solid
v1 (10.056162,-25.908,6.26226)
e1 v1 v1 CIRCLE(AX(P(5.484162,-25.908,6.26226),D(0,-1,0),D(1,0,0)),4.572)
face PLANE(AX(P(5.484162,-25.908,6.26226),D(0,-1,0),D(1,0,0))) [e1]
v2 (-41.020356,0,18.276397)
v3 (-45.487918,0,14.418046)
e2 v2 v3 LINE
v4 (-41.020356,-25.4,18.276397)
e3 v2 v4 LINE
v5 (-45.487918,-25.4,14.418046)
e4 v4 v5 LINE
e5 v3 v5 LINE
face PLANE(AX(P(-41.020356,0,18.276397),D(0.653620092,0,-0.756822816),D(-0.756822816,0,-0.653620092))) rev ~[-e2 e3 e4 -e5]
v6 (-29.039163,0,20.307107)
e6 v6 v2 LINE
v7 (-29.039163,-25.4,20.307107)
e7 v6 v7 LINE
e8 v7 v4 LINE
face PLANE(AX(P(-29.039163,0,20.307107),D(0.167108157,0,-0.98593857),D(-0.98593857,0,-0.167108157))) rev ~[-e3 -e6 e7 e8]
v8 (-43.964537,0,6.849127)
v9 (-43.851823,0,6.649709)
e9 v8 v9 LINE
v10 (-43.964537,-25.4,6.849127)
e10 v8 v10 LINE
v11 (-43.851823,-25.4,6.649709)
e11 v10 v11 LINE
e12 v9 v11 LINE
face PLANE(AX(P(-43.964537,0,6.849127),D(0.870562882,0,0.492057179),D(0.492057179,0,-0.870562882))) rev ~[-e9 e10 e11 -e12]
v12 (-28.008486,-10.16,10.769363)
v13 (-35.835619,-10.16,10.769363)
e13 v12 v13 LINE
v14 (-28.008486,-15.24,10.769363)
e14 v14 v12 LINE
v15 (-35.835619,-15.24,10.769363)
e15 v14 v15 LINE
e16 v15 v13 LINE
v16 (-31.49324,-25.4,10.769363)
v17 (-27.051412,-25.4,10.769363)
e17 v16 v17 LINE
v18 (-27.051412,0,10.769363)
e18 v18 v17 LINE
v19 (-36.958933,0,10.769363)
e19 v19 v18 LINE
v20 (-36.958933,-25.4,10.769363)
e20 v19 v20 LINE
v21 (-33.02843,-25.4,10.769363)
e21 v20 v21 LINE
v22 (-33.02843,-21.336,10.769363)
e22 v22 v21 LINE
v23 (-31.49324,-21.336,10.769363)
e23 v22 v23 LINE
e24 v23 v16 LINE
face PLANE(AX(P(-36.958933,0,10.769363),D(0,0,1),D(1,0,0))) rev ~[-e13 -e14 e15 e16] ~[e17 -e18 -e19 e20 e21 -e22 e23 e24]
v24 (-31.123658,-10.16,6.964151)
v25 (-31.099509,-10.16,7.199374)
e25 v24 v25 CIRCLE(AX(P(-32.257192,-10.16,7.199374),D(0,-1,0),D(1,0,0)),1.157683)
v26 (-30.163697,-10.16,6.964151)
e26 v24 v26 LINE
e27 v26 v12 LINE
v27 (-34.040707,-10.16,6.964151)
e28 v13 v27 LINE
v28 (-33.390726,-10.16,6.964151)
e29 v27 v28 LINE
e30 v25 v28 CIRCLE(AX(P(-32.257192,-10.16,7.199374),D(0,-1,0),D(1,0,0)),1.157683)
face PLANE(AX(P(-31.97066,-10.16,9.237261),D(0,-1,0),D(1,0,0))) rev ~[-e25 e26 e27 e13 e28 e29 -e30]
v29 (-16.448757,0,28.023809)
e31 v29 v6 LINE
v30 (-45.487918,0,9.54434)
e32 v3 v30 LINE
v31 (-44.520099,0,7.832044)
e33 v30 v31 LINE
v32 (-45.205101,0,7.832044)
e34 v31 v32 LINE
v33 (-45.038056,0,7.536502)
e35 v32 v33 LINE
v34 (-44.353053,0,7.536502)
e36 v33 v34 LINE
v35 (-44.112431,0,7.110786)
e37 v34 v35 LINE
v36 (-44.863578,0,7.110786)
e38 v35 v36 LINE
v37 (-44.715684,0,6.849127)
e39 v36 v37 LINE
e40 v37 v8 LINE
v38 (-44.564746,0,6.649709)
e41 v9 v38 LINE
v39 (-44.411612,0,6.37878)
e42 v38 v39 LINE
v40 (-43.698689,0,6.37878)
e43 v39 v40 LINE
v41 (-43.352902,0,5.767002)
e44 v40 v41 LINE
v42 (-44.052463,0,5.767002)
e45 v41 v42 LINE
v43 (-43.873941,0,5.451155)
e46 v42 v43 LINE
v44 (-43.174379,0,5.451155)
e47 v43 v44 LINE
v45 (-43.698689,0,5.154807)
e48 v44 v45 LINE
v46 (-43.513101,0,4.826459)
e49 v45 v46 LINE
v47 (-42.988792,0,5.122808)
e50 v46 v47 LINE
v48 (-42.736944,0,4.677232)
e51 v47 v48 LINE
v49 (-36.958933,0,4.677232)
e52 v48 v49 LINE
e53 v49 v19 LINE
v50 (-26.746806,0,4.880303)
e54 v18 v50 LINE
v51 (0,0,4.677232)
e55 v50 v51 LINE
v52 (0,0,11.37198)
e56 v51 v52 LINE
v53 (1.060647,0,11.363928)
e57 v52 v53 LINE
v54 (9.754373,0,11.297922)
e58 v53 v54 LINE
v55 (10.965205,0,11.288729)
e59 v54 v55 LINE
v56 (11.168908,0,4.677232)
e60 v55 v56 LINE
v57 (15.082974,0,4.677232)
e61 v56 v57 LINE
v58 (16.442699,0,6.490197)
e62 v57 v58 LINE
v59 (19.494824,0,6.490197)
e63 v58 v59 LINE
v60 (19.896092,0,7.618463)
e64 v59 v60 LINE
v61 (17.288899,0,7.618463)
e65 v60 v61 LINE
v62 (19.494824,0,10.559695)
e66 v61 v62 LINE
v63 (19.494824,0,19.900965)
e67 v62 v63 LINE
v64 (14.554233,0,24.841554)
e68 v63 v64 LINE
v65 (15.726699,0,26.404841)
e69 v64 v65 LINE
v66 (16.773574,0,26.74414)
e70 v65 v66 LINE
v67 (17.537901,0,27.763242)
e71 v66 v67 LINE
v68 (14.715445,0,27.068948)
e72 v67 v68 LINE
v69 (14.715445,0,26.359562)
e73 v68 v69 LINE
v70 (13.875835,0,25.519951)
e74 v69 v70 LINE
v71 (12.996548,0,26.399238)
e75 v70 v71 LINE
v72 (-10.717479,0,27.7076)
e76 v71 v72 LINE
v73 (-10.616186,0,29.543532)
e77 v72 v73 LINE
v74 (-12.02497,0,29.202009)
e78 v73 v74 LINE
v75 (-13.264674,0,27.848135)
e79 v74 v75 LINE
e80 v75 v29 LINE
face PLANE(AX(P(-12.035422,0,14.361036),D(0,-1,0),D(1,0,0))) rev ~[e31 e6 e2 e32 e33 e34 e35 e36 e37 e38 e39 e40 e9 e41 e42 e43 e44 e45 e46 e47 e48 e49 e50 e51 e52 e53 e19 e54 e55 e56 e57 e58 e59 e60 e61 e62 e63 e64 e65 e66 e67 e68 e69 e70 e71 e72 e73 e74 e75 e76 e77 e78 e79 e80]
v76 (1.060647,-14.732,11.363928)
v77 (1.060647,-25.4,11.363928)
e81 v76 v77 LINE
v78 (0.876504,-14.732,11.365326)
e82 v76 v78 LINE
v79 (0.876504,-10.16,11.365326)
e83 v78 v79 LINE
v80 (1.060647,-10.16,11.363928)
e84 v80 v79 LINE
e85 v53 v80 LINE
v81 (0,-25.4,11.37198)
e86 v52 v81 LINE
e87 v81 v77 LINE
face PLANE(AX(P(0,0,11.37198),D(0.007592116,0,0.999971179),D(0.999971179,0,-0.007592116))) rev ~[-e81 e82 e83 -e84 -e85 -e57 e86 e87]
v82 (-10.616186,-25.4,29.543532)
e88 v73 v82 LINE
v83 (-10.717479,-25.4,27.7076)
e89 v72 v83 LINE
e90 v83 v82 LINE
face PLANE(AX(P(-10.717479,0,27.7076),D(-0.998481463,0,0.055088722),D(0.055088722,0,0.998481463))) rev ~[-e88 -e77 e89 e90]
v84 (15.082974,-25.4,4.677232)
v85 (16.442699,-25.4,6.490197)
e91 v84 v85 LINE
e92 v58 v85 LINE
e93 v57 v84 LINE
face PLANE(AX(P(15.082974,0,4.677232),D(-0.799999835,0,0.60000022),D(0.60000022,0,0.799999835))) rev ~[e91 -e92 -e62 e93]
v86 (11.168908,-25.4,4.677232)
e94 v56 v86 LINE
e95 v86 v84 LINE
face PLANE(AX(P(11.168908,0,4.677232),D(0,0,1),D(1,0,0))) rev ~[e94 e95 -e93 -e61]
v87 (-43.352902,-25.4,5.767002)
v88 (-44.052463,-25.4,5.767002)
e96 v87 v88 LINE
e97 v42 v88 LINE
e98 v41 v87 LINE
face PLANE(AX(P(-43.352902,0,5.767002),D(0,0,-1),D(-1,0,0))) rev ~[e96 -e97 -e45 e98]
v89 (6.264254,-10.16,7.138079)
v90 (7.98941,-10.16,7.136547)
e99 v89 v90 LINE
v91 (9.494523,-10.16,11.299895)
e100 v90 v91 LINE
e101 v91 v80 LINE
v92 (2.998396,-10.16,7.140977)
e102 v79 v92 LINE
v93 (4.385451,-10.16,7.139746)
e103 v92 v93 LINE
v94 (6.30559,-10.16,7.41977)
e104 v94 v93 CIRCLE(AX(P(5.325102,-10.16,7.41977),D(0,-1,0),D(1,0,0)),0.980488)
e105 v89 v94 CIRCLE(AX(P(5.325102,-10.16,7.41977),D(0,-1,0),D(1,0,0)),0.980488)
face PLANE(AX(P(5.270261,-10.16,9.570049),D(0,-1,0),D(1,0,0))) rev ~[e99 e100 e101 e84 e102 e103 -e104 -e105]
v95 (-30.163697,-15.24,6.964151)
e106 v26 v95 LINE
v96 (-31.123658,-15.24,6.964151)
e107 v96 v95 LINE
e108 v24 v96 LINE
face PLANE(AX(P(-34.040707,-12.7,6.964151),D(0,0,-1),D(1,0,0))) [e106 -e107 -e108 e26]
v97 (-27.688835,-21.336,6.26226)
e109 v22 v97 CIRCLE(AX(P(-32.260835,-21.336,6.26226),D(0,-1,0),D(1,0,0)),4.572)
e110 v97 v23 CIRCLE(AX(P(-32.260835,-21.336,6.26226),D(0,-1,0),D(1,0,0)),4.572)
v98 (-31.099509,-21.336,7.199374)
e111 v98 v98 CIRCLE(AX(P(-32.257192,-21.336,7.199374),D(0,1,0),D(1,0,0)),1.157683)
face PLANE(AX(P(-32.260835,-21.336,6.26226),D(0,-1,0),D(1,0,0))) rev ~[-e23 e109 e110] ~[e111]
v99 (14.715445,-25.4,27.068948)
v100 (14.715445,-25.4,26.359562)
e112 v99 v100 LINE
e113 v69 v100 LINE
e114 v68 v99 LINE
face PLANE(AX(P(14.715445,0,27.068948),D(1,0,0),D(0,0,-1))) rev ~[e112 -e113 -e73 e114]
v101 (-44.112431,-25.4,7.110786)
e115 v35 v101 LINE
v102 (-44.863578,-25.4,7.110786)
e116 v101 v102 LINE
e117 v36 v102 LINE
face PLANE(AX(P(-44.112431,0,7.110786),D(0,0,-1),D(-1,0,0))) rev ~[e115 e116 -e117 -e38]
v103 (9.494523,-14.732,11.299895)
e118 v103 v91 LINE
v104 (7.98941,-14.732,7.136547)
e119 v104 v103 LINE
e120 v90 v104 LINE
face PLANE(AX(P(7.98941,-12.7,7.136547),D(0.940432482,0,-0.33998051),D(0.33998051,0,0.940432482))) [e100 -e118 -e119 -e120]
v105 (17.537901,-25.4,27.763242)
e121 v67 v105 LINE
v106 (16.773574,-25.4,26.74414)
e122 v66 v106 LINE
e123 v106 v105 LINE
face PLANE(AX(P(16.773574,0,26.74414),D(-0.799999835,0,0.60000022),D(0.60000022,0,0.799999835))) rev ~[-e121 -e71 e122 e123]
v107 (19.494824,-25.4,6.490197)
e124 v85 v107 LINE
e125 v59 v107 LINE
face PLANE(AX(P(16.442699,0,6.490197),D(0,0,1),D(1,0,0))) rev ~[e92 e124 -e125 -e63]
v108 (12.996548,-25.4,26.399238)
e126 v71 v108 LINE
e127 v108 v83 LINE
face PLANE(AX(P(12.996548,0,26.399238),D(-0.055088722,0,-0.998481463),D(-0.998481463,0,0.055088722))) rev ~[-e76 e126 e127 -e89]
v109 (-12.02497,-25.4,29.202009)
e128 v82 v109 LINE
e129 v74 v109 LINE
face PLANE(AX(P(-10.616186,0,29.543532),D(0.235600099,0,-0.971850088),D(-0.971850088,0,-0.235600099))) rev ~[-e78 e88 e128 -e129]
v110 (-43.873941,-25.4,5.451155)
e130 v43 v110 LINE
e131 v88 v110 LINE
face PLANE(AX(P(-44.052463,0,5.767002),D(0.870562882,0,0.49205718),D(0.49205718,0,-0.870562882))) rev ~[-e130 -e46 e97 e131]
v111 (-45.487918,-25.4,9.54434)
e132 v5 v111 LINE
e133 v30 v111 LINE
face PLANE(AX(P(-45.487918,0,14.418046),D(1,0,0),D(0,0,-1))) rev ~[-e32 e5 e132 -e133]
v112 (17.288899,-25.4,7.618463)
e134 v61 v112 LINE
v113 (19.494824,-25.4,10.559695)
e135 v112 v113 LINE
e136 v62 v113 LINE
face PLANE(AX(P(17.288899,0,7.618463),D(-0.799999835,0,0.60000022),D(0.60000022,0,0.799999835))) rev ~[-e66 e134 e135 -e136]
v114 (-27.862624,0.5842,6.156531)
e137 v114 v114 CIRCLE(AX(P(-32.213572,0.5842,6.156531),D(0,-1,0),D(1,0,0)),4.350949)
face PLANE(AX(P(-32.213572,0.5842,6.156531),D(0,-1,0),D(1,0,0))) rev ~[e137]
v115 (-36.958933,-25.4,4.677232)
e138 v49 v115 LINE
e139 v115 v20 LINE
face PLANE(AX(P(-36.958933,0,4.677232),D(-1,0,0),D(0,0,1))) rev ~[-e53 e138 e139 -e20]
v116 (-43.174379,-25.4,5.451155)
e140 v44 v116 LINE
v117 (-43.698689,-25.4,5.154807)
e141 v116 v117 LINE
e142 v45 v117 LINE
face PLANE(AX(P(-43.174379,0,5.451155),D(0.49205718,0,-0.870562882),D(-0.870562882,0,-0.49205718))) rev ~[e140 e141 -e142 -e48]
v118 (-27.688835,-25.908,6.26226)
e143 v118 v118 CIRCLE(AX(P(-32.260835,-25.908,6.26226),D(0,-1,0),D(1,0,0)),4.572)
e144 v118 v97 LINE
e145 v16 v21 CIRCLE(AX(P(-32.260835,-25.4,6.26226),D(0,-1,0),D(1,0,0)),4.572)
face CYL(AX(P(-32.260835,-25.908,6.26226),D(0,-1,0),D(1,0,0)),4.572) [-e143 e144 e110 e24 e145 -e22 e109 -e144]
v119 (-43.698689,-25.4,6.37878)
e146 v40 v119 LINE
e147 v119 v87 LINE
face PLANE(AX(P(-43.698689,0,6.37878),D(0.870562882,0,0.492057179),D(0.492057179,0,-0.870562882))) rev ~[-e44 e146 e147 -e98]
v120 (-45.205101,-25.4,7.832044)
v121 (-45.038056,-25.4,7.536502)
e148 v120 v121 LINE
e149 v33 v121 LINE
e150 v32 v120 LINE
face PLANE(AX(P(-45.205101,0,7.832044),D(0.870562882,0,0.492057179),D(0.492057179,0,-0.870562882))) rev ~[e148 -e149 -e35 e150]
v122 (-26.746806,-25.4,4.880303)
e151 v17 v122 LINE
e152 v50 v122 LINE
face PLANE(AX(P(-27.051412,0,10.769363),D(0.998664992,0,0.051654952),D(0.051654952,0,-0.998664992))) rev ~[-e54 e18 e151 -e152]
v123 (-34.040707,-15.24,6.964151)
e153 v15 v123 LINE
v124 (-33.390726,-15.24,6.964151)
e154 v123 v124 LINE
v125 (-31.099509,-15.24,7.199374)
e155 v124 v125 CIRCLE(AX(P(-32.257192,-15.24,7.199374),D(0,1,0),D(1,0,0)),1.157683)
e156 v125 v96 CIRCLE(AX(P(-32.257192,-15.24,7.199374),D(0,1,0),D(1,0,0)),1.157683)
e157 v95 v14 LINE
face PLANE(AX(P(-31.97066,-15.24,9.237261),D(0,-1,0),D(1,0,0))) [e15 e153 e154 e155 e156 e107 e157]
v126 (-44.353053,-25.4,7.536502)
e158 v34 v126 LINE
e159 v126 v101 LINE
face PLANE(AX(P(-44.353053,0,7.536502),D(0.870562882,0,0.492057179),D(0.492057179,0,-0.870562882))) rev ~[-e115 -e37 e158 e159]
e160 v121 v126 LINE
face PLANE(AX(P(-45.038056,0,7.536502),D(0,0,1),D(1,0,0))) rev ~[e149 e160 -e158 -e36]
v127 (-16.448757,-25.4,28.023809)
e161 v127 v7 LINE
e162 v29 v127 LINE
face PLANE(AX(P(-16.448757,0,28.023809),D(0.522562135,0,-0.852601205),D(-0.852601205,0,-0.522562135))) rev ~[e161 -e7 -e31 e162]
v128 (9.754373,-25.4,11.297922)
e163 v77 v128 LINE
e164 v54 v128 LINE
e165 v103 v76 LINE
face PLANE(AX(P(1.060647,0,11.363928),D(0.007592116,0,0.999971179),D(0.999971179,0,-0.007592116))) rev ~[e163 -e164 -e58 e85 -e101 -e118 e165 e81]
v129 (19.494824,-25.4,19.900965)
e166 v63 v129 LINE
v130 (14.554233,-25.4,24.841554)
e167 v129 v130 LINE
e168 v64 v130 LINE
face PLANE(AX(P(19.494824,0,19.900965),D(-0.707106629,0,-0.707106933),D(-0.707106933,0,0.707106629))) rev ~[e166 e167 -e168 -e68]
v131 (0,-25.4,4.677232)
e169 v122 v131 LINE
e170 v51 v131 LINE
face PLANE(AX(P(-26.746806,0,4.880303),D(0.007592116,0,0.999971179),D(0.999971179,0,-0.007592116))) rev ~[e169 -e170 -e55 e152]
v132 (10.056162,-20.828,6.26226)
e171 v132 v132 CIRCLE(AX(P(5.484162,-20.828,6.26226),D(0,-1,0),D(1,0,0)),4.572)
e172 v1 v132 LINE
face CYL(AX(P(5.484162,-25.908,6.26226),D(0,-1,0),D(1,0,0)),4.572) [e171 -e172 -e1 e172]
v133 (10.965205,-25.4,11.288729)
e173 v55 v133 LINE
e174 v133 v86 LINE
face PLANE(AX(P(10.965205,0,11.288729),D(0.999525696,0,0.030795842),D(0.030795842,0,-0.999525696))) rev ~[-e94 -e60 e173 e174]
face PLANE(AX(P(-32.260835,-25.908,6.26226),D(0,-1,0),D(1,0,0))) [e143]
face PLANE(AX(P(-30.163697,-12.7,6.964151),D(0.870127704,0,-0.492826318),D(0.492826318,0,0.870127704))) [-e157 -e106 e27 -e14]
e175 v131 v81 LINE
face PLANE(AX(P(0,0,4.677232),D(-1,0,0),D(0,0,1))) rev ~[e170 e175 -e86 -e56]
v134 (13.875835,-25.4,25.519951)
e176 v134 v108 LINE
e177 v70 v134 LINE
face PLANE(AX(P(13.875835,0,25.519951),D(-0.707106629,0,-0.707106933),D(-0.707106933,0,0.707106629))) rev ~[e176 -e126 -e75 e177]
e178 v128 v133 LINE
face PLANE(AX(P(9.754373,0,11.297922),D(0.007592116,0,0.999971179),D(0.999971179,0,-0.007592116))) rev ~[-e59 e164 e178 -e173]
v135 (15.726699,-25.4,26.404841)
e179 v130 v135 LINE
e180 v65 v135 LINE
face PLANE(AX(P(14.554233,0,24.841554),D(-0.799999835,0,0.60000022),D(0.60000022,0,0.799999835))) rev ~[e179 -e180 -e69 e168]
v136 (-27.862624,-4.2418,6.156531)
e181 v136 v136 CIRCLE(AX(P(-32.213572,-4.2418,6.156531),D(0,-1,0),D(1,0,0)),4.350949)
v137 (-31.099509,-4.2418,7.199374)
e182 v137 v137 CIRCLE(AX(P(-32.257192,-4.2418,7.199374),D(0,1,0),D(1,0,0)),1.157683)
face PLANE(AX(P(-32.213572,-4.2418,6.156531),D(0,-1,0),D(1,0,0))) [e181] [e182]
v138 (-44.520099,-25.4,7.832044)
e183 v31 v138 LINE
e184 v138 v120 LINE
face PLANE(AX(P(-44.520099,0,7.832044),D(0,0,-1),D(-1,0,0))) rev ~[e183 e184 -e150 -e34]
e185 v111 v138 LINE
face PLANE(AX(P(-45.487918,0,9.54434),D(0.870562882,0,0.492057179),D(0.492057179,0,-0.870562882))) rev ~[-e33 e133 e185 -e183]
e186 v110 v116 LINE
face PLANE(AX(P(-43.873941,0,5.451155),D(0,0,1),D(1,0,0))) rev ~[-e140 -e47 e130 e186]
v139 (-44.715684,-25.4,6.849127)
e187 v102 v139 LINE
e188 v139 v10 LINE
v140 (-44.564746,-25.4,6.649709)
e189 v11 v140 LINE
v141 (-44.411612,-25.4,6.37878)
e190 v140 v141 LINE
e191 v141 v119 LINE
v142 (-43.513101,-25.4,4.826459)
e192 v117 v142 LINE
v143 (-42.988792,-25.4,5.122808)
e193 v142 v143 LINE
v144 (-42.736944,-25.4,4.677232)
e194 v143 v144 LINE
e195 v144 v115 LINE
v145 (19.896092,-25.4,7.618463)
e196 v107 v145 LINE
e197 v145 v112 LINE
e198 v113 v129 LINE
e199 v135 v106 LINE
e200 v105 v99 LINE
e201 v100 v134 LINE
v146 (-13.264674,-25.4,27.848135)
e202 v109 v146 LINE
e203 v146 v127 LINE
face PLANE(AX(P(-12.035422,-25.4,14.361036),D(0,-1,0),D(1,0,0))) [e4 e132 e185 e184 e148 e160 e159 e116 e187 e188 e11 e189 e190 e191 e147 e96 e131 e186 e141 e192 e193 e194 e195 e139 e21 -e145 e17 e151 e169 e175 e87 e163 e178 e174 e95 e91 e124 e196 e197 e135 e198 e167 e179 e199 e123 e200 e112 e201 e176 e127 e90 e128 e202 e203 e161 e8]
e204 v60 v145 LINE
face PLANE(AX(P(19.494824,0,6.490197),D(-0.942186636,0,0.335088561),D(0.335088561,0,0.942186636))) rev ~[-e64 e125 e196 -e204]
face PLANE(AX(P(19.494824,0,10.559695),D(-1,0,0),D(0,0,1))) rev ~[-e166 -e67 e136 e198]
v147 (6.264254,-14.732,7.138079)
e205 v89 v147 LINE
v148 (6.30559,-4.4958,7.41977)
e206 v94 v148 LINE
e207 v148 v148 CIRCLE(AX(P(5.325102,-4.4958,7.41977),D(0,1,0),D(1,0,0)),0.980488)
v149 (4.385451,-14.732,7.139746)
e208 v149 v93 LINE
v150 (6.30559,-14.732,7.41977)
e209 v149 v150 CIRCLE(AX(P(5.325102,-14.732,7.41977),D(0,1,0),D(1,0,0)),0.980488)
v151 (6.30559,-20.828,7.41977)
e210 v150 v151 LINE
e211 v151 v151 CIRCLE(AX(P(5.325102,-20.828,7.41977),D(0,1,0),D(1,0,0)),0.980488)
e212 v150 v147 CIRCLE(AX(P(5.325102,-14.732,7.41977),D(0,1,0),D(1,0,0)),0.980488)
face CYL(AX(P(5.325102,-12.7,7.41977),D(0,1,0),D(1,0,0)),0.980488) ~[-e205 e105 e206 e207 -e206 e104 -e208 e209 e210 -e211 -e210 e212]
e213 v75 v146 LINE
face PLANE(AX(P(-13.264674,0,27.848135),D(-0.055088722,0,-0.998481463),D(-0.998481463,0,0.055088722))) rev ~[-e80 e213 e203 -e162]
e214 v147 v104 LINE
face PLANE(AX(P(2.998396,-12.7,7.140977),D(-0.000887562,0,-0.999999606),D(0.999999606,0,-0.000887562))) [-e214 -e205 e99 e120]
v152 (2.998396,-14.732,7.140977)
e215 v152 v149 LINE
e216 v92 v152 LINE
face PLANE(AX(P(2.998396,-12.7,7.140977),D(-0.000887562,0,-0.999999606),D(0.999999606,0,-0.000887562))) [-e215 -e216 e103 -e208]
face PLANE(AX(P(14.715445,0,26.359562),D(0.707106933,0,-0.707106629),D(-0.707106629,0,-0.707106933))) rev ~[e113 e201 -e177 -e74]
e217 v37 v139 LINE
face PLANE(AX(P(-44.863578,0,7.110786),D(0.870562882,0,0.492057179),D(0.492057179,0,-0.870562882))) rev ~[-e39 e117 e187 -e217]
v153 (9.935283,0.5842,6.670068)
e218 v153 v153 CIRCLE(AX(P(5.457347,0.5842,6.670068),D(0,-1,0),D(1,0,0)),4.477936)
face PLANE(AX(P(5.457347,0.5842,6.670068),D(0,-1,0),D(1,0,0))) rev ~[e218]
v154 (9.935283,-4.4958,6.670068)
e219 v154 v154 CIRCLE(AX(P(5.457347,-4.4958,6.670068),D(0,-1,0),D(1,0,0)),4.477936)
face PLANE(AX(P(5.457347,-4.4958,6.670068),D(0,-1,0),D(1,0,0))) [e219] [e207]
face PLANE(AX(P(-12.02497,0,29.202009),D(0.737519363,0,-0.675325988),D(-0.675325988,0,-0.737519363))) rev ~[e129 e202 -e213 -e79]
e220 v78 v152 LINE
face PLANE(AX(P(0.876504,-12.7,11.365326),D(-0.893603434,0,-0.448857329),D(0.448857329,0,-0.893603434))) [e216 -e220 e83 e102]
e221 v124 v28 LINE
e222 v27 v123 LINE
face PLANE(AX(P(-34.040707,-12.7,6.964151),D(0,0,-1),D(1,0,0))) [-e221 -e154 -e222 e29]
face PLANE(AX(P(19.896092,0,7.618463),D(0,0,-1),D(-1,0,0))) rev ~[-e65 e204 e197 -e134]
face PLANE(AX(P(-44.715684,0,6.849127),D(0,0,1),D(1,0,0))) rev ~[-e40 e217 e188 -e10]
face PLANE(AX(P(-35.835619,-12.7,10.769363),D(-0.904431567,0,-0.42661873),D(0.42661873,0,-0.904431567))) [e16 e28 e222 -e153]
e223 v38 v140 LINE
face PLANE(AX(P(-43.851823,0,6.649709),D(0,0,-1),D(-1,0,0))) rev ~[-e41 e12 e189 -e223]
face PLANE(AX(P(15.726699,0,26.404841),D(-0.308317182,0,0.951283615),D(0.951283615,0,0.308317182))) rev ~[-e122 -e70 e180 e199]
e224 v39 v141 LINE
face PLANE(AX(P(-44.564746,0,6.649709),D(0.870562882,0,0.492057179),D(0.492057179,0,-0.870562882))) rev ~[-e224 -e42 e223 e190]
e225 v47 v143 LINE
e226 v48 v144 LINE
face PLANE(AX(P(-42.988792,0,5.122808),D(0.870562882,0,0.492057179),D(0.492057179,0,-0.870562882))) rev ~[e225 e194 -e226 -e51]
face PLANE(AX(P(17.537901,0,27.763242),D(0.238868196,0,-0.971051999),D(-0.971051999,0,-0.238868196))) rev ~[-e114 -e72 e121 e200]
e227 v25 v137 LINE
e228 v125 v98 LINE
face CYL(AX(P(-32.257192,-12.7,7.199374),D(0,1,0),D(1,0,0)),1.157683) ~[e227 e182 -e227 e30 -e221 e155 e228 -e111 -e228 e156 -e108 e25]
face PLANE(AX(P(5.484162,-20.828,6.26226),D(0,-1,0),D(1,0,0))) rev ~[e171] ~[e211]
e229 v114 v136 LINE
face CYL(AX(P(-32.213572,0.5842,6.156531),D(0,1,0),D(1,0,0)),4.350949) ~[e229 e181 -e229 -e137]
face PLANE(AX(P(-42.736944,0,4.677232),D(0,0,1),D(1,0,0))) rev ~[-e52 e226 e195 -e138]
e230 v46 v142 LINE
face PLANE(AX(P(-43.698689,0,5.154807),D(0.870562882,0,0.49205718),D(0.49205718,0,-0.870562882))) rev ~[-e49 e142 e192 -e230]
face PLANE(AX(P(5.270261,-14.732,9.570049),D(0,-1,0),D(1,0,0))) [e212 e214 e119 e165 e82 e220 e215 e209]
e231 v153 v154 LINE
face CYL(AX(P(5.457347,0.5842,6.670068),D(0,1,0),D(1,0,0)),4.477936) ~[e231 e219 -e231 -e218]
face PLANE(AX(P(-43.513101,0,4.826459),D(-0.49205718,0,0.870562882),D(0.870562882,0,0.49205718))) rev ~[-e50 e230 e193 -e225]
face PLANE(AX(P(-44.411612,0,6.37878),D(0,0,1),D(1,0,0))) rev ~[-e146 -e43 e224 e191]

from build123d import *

# Parameters (mm, degrees)
F1_DEPTH       = 25.4
F4_DEPTH       = 2.54
F4_DEPTH_BACK  = 2.54
F7_DEPTH       = 2.032
F7_DEPTH_BACK  = 2.54
F8_R           = 1.1576826641
F9_DEPTH       = 12.7
F9_DEPTH_BACK  = 12.7
F10_R          = 0.9804880259
F11_DEPTH      = 12.7
F11_DEPTH_BACK = 12.7
F13_R          = 4.572
F14_DEPTH      = 4.572
F15_R          = 4.572
F16_DEPTH      = 5.08
F18_R          = 4.4779357242
F19_DEPTH      = 5.08
F20_R          = 4.3509487434
F21_DEPTH      = 4.826
F22_DEPTH      = 25.4
F23_DEPTH      = 25.4


with BuildPart() as f1:
    # F0 (on Front) → F1 (new body)
    with BuildSketch(Plane.XZ):
        Polygon((-42.7369444011, 4.6772318892), (-36.9589328766, 4.6772318892), (-36.9589328766, 10.7693634927), (-27.0514115691, 10.7693634927), (-26.7468057573, 4.8803025857), (0, 4.6772318892), (0, 11.3719804212), (1.0606472588, 11.3639276325), (9.7543726708, 11.297921961), (10.9652050924, 11.2887289162), (11.1689083278, 4.6772318892), (15.0829743681, 4.6772318892), (16.4426990051, 6.4901970327), (17.2888992398, 7.6184633654), (19.4948241115, 10.5596948415), (19.4948241115, 19.900964573), (14.554232661, 24.8415538992), (13.8758348479, 25.5199514207), (12.9965478554, 26.3992380351), (-10.717479028, 27.7076002598), (-13.2646739035, 27.8481353773), (-16.4487566799, 28.0238091946), (-29.0391631424, 20.3071068972), (-41.0203561187, 18.2763971388), (-45.4879179597, 14.4180459902), (-45.4879179597, 9.5443399623), (-44.5200988283, 7.8320442214), (-44.3530531096, 7.5365017348), (-44.1124311804, 7.1107859258), (-43.9645371878, 6.8491272694), (-43.8518225557, 6.6497090328), (-43.6986885549, 6.3787795906), (-43.3529015226, 5.7670024068), (-43.17437928, 5.4511552968), (-42.9887916429, 5.122807871), align=None)
        Polygon((-43.5131009178, 4.8264592117), (-42.9887916429, 5.122807871), (-43.17437928, 5.4511552968), (-43.6986885549, 5.1548066375), align=None)
        Polygon((-43.8739407822, 5.4511552968), (-43.17437928, 5.4511552968), (-43.3529015226, 5.7670024068), (-44.0524630249, 5.7670024068), align=None)
        Polygon((-44.4116123194, 6.3787795906), (-43.6986885549, 6.3787795906), (-43.8518225557, 6.6497090328), (-44.5647463202, 6.6497090328), align=None)
        Polygon((-44.7156839396, 6.8491272694), (-43.9645371878, 6.8491272694), (-44.1124311804, 7.1107859258), (-44.8635779321, 7.1107859258), align=None)
        Polygon((-45.0380556521, 7.5365017348), (-44.3530531096, 7.5365017348), (-44.5200988283, 7.8320442214), (-45.2051013708, 7.8320442214), align=None)
        Polygon((17.2888992398, 7.6184633654), (16.4426990051, 6.4901970327), (19.4948241115, 6.4901970327), (19.8960918933, 7.6184633654), align=None)
        Polygon((13.8758348479, 25.5199514207), (14.554232661, 24.8415538992), (15.7266985625, 26.4048408717), (16.7735743968, 26.7441401112), (17.537901178, 27.763241902), (14.7154445676, 27.0689483732), (14.7154445676, 26.3595615014), align=None)
        Polygon((-12.0249697939, 29.2020086199), (-13.2646739035, 27.8481353773), (-10.717479028, 27.7076002598), (-10.6161860749, 29.5435320586), align=None)
    extrude(amount=F1_DEPTH)

    # F3 (on offset) → F4 (join, two sides)
    with BuildSketch(Plane.XZ.offset(12.7)) as f4_sk:
        Polygon((-28.008485968, 10.7693634927), (-35.8356192608, 10.7693634927), (-34.0407073398, 6.9641508162), (-30.1636971433, 6.9641508162), align=None)
    extrude(amount=F4_DEPTH)
    extrude(f4_sk.sketch, amount=-F4_DEPTH_BACK)

    # F6 (on offset) → F7 (join, two sides)
    with BuildSketch(Plane.XZ.offset(12.7)) as f7_sk:
        Polygon((9.4945231002, 11.2998948258), (0.8765038544, 11.3653257108), (2.9983955901, 7.1409773082), (7.989410311, 7.1365474723), align=None)
    extrude(amount=F7_DEPTH)
    extrude(f7_sk.sketch, amount=-F7_DEPTH_BACK)

    # F8 (on offset) → F9 (join, two sides)
    with BuildSketch(Plane.XZ.offset(12.7)) as f9_sk:
        with Locations((-32.2571918368, 7.1993744932)):
            Circle(F8_R)
    extrude(amount=F9_DEPTH)
    extrude(f9_sk.sketch, amount=-F9_DEPTH_BACK)

    # F10 (on offset) → F11 (join, two sides)
    with BuildSketch(Plane.XZ.offset(12.7)) as f11_sk:
        with Locations((5.3251022473, 7.4197696522)):
            Circle(F10_R)
    extrude(amount=F11_DEPTH)
    extrude(f11_sk.sketch, amount=-F11_DEPTH_BACK)

    # F13 (on offset) → F14 (join)
    with BuildSketch(Plane.XZ.offset(25.908)):
        with Locations((-32.2608351707, 6.2622600235)):
            Circle(F13_R)
    extrude(amount=-F14_DEPTH)

    # F15 (on offset) → F16 (join)
    with BuildSketch(Plane.XZ.offset(25.908)):
        with Locations((5.4841622319, 6.2622600235)):
            Circle(F15_R)
    extrude(amount=-F16_DEPTH)

    # F18 (on offset) → F19 (join)
    with BuildSketch(Plane.XZ.offset(-0.5842)):
        with Locations((5.4573472589, 6.6700675525)):
            Circle(F18_R)
    extrude(amount=F19_DEPTH)

    # F20 (on offset) → F21 (join)
    with BuildSketch(Plane.XZ.offset(-0.5842)):
        with Locations((-32.2135724127, 6.1565306969)):
            Circle(F20_R)
    extrude(amount=F21_DEPTH)

    # F0 (on Front) → F22 (join)
    with BuildSketch(Plane.XZ):
        Polygon((-42.7369444011, 4.6772318892), (-36.9589328766, 4.6772318892), (-36.9589328766, 10.7693634927), (-27.0514115691, 10.7693634927), (-26.7468057573, 4.8803025857), (0, 4.6772318892), (0, 11.3719804212), (1.0606472588, 11.3639276325), (9.7543726708, 11.297921961), (10.9652050924, 11.2887289162), (11.1689083278, 4.6772318892), (15.0829743681, 4.6772318892), (16.4426990051, 6.4901970327), (17.2888992398, 7.6184633654), (19.4948241115, 10.5596948415), (19.4948241115, 19.900964573), (14.554232661, 24.8415538992), (13.8758348479, 25.5199514207), (12.9965478554, 26.3992380351), (-10.717479028, 27.7076002598), (-13.2646739035, 27.8481353773), (-16.4487566799, 28.0238091946), (-29.0391631424, 20.3071068972), (-41.0203561187, 18.2763971388), (-45.4879179597, 14.4180459902), (-45.4879179597, 9.5443399623), (-44.5200988283, 7.8320442214), (-44.3530531096, 7.5365017348), (-44.1124311804, 7.1107859258), (-43.9645371878, 6.8491272694), (-43.8518225557, 6.6497090328), (-43.6986885549, 6.3787795906), (-43.3529015226, 5.7670024068), (-43.17437928, 5.4511552968), (-42.9887916429, 5.122807871), align=None)
        Polygon((-43.5131009178, 4.8264592117), (-42.9887916429, 5.122807871), (-43.17437928, 5.4511552968), (-43.6986885549, 5.1548066375), align=None)
        Polygon((-43.8739407822, 5.4511552968), (-43.17437928, 5.4511552968), (-43.3529015226, 5.7670024068), (-44.0524630249, 5.7670024068), align=None)
        Polygon((-44.4116123194, 6.3787795906), (-43.6986885549, 6.3787795906), (-43.8518225557, 6.6497090328), (-44.5647463202, 6.6497090328), align=None)
        Polygon((-44.7156839396, 6.8491272694), (-43.9645371878, 6.8491272694), (-44.1124311804, 7.1107859258), (-44.8635779321, 7.1107859258), align=None)
        Polygon((-45.0380556521, 7.5365017348), (-44.3530531096, 7.5365017348), (-44.5200988283, 7.8320442214), (-45.2051013708, 7.8320442214), align=None)
        Polygon((17.2888992398, 7.6184633654), (16.4426990051, 6.4901970327), (19.4948241115, 6.4901970327), (19.8960918933, 7.6184633654), align=None)
        Polygon((13.8758348479, 25.5199514207), (14.554232661, 24.8415538992), (15.7266985625, 26.4048408717), (16.7735743968, 26.7441401112), (17.537901178, 27.763241902), (14.7154445676, 27.0689483732), (14.7154445676, 26.3595615014), align=None)
        Polygon((-12.0249697939, 29.2020086199), (-13.2646739035, 27.8481353773), (-10.717479028, 27.7076002598), (-10.6161860749, 29.5435320586), align=None)
    extrude(amount=F22_DEPTH)

    # F0 (on Front) → F23 (join)
    with BuildSketch(Plane.XZ):
        Polygon((-42.7369444011, 4.6772318892), (-36.9589328766, 4.6772318892), (-36.9589328766, 10.7693634927), (-27.0514115691, 10.7693634927), (-26.7468057573, 4.8803025857), (0, 4.6772318892), (0, 11.3719804212), (1.0606472588, 11.3639276325), (9.7543726708, 11.297921961), (10.9652050924, 11.2887289162), (11.1689083278, 4.6772318892), (15.0829743681, 4.6772318892), (16.4426990051, 6.4901970327), (17.2888992398, 7.6184633654), (19.4948241115, 10.5596948415), (19.4948241115, 19.900964573), (14.554232661, 24.8415538992), (13.8758348479, 25.5199514207), (12.9965478554, 26.3992380351), (-10.717479028, 27.7076002598), (-13.2646739035, 27.8481353773), (-16.4487566799, 28.0238091946), (-29.0391631424, 20.3071068972), (-41.0203561187, 18.2763971388), (-45.4879179597, 14.4180459902), (-45.4879179597, 9.5443399623), (-44.5200988283, 7.8320442214), (-44.3530531096, 7.5365017348), (-44.1124311804, 7.1107859258), (-43.9645371878, 6.8491272694), (-43.8518225557, 6.6497090328), (-43.6986885549, 6.3787795906), (-43.3529015226, 5.7670024068), (-43.17437928, 5.4511552968), (-42.9887916429, 5.122807871), align=None)
        Polygon((-43.5131009178, 4.8264592117), (-42.9887916429, 5.122807871), (-43.17437928, 5.4511552968), (-43.6986885549, 5.1548066375), align=None)
        Polygon((-43.8739407822, 5.4511552968), (-43.17437928, 5.4511552968), (-43.3529015226, 5.7670024068), (-44.0524630249, 5.7670024068), align=None)
        Polygon((-44.4116123194, 6.3787795906), (-43.6986885549, 6.3787795906), (-43.8518225557, 6.6497090328), (-44.5647463202, 6.6497090328), align=None)
        Polygon((-44.7156839396, 6.8491272694), (-43.9645371878, 6.8491272694), (-44.1124311804, 7.1107859258), (-44.8635779321, 7.1107859258), align=None)
        Polygon((-45.0380556521, 7.5365017348), (-44.3530531096, 7.5365017348), (-44.5200988283, 7.8320442214), (-45.2051013708, 7.8320442214), align=None)
        Polygon((17.2888992398, 7.6184633654), (16.4426990051, 6.4901970327), (19.4948241115, 6.4901970327), (19.8960918933, 7.6184633654), align=None)
        Polygon((13.8758348479, 25.5199514207), (14.554232661, 24.8415538992), (15.7266985625, 26.4048408717), (16.7735743968, 26.7441401112), (17.537901178, 27.763241902), (14.7154445676, 27.0689483732), (14.7154445676, 26.3595615014), align=None)
        Polygon((-12.0249697939, 29.2020086199), (-13.2646739035, 27.8481353773), (-10.717479028, 27.7076002598), (-10.6161860749, 29.5435320586), align=None)
    extrude(amount=F23_DEPTH)


solid = f1.part
